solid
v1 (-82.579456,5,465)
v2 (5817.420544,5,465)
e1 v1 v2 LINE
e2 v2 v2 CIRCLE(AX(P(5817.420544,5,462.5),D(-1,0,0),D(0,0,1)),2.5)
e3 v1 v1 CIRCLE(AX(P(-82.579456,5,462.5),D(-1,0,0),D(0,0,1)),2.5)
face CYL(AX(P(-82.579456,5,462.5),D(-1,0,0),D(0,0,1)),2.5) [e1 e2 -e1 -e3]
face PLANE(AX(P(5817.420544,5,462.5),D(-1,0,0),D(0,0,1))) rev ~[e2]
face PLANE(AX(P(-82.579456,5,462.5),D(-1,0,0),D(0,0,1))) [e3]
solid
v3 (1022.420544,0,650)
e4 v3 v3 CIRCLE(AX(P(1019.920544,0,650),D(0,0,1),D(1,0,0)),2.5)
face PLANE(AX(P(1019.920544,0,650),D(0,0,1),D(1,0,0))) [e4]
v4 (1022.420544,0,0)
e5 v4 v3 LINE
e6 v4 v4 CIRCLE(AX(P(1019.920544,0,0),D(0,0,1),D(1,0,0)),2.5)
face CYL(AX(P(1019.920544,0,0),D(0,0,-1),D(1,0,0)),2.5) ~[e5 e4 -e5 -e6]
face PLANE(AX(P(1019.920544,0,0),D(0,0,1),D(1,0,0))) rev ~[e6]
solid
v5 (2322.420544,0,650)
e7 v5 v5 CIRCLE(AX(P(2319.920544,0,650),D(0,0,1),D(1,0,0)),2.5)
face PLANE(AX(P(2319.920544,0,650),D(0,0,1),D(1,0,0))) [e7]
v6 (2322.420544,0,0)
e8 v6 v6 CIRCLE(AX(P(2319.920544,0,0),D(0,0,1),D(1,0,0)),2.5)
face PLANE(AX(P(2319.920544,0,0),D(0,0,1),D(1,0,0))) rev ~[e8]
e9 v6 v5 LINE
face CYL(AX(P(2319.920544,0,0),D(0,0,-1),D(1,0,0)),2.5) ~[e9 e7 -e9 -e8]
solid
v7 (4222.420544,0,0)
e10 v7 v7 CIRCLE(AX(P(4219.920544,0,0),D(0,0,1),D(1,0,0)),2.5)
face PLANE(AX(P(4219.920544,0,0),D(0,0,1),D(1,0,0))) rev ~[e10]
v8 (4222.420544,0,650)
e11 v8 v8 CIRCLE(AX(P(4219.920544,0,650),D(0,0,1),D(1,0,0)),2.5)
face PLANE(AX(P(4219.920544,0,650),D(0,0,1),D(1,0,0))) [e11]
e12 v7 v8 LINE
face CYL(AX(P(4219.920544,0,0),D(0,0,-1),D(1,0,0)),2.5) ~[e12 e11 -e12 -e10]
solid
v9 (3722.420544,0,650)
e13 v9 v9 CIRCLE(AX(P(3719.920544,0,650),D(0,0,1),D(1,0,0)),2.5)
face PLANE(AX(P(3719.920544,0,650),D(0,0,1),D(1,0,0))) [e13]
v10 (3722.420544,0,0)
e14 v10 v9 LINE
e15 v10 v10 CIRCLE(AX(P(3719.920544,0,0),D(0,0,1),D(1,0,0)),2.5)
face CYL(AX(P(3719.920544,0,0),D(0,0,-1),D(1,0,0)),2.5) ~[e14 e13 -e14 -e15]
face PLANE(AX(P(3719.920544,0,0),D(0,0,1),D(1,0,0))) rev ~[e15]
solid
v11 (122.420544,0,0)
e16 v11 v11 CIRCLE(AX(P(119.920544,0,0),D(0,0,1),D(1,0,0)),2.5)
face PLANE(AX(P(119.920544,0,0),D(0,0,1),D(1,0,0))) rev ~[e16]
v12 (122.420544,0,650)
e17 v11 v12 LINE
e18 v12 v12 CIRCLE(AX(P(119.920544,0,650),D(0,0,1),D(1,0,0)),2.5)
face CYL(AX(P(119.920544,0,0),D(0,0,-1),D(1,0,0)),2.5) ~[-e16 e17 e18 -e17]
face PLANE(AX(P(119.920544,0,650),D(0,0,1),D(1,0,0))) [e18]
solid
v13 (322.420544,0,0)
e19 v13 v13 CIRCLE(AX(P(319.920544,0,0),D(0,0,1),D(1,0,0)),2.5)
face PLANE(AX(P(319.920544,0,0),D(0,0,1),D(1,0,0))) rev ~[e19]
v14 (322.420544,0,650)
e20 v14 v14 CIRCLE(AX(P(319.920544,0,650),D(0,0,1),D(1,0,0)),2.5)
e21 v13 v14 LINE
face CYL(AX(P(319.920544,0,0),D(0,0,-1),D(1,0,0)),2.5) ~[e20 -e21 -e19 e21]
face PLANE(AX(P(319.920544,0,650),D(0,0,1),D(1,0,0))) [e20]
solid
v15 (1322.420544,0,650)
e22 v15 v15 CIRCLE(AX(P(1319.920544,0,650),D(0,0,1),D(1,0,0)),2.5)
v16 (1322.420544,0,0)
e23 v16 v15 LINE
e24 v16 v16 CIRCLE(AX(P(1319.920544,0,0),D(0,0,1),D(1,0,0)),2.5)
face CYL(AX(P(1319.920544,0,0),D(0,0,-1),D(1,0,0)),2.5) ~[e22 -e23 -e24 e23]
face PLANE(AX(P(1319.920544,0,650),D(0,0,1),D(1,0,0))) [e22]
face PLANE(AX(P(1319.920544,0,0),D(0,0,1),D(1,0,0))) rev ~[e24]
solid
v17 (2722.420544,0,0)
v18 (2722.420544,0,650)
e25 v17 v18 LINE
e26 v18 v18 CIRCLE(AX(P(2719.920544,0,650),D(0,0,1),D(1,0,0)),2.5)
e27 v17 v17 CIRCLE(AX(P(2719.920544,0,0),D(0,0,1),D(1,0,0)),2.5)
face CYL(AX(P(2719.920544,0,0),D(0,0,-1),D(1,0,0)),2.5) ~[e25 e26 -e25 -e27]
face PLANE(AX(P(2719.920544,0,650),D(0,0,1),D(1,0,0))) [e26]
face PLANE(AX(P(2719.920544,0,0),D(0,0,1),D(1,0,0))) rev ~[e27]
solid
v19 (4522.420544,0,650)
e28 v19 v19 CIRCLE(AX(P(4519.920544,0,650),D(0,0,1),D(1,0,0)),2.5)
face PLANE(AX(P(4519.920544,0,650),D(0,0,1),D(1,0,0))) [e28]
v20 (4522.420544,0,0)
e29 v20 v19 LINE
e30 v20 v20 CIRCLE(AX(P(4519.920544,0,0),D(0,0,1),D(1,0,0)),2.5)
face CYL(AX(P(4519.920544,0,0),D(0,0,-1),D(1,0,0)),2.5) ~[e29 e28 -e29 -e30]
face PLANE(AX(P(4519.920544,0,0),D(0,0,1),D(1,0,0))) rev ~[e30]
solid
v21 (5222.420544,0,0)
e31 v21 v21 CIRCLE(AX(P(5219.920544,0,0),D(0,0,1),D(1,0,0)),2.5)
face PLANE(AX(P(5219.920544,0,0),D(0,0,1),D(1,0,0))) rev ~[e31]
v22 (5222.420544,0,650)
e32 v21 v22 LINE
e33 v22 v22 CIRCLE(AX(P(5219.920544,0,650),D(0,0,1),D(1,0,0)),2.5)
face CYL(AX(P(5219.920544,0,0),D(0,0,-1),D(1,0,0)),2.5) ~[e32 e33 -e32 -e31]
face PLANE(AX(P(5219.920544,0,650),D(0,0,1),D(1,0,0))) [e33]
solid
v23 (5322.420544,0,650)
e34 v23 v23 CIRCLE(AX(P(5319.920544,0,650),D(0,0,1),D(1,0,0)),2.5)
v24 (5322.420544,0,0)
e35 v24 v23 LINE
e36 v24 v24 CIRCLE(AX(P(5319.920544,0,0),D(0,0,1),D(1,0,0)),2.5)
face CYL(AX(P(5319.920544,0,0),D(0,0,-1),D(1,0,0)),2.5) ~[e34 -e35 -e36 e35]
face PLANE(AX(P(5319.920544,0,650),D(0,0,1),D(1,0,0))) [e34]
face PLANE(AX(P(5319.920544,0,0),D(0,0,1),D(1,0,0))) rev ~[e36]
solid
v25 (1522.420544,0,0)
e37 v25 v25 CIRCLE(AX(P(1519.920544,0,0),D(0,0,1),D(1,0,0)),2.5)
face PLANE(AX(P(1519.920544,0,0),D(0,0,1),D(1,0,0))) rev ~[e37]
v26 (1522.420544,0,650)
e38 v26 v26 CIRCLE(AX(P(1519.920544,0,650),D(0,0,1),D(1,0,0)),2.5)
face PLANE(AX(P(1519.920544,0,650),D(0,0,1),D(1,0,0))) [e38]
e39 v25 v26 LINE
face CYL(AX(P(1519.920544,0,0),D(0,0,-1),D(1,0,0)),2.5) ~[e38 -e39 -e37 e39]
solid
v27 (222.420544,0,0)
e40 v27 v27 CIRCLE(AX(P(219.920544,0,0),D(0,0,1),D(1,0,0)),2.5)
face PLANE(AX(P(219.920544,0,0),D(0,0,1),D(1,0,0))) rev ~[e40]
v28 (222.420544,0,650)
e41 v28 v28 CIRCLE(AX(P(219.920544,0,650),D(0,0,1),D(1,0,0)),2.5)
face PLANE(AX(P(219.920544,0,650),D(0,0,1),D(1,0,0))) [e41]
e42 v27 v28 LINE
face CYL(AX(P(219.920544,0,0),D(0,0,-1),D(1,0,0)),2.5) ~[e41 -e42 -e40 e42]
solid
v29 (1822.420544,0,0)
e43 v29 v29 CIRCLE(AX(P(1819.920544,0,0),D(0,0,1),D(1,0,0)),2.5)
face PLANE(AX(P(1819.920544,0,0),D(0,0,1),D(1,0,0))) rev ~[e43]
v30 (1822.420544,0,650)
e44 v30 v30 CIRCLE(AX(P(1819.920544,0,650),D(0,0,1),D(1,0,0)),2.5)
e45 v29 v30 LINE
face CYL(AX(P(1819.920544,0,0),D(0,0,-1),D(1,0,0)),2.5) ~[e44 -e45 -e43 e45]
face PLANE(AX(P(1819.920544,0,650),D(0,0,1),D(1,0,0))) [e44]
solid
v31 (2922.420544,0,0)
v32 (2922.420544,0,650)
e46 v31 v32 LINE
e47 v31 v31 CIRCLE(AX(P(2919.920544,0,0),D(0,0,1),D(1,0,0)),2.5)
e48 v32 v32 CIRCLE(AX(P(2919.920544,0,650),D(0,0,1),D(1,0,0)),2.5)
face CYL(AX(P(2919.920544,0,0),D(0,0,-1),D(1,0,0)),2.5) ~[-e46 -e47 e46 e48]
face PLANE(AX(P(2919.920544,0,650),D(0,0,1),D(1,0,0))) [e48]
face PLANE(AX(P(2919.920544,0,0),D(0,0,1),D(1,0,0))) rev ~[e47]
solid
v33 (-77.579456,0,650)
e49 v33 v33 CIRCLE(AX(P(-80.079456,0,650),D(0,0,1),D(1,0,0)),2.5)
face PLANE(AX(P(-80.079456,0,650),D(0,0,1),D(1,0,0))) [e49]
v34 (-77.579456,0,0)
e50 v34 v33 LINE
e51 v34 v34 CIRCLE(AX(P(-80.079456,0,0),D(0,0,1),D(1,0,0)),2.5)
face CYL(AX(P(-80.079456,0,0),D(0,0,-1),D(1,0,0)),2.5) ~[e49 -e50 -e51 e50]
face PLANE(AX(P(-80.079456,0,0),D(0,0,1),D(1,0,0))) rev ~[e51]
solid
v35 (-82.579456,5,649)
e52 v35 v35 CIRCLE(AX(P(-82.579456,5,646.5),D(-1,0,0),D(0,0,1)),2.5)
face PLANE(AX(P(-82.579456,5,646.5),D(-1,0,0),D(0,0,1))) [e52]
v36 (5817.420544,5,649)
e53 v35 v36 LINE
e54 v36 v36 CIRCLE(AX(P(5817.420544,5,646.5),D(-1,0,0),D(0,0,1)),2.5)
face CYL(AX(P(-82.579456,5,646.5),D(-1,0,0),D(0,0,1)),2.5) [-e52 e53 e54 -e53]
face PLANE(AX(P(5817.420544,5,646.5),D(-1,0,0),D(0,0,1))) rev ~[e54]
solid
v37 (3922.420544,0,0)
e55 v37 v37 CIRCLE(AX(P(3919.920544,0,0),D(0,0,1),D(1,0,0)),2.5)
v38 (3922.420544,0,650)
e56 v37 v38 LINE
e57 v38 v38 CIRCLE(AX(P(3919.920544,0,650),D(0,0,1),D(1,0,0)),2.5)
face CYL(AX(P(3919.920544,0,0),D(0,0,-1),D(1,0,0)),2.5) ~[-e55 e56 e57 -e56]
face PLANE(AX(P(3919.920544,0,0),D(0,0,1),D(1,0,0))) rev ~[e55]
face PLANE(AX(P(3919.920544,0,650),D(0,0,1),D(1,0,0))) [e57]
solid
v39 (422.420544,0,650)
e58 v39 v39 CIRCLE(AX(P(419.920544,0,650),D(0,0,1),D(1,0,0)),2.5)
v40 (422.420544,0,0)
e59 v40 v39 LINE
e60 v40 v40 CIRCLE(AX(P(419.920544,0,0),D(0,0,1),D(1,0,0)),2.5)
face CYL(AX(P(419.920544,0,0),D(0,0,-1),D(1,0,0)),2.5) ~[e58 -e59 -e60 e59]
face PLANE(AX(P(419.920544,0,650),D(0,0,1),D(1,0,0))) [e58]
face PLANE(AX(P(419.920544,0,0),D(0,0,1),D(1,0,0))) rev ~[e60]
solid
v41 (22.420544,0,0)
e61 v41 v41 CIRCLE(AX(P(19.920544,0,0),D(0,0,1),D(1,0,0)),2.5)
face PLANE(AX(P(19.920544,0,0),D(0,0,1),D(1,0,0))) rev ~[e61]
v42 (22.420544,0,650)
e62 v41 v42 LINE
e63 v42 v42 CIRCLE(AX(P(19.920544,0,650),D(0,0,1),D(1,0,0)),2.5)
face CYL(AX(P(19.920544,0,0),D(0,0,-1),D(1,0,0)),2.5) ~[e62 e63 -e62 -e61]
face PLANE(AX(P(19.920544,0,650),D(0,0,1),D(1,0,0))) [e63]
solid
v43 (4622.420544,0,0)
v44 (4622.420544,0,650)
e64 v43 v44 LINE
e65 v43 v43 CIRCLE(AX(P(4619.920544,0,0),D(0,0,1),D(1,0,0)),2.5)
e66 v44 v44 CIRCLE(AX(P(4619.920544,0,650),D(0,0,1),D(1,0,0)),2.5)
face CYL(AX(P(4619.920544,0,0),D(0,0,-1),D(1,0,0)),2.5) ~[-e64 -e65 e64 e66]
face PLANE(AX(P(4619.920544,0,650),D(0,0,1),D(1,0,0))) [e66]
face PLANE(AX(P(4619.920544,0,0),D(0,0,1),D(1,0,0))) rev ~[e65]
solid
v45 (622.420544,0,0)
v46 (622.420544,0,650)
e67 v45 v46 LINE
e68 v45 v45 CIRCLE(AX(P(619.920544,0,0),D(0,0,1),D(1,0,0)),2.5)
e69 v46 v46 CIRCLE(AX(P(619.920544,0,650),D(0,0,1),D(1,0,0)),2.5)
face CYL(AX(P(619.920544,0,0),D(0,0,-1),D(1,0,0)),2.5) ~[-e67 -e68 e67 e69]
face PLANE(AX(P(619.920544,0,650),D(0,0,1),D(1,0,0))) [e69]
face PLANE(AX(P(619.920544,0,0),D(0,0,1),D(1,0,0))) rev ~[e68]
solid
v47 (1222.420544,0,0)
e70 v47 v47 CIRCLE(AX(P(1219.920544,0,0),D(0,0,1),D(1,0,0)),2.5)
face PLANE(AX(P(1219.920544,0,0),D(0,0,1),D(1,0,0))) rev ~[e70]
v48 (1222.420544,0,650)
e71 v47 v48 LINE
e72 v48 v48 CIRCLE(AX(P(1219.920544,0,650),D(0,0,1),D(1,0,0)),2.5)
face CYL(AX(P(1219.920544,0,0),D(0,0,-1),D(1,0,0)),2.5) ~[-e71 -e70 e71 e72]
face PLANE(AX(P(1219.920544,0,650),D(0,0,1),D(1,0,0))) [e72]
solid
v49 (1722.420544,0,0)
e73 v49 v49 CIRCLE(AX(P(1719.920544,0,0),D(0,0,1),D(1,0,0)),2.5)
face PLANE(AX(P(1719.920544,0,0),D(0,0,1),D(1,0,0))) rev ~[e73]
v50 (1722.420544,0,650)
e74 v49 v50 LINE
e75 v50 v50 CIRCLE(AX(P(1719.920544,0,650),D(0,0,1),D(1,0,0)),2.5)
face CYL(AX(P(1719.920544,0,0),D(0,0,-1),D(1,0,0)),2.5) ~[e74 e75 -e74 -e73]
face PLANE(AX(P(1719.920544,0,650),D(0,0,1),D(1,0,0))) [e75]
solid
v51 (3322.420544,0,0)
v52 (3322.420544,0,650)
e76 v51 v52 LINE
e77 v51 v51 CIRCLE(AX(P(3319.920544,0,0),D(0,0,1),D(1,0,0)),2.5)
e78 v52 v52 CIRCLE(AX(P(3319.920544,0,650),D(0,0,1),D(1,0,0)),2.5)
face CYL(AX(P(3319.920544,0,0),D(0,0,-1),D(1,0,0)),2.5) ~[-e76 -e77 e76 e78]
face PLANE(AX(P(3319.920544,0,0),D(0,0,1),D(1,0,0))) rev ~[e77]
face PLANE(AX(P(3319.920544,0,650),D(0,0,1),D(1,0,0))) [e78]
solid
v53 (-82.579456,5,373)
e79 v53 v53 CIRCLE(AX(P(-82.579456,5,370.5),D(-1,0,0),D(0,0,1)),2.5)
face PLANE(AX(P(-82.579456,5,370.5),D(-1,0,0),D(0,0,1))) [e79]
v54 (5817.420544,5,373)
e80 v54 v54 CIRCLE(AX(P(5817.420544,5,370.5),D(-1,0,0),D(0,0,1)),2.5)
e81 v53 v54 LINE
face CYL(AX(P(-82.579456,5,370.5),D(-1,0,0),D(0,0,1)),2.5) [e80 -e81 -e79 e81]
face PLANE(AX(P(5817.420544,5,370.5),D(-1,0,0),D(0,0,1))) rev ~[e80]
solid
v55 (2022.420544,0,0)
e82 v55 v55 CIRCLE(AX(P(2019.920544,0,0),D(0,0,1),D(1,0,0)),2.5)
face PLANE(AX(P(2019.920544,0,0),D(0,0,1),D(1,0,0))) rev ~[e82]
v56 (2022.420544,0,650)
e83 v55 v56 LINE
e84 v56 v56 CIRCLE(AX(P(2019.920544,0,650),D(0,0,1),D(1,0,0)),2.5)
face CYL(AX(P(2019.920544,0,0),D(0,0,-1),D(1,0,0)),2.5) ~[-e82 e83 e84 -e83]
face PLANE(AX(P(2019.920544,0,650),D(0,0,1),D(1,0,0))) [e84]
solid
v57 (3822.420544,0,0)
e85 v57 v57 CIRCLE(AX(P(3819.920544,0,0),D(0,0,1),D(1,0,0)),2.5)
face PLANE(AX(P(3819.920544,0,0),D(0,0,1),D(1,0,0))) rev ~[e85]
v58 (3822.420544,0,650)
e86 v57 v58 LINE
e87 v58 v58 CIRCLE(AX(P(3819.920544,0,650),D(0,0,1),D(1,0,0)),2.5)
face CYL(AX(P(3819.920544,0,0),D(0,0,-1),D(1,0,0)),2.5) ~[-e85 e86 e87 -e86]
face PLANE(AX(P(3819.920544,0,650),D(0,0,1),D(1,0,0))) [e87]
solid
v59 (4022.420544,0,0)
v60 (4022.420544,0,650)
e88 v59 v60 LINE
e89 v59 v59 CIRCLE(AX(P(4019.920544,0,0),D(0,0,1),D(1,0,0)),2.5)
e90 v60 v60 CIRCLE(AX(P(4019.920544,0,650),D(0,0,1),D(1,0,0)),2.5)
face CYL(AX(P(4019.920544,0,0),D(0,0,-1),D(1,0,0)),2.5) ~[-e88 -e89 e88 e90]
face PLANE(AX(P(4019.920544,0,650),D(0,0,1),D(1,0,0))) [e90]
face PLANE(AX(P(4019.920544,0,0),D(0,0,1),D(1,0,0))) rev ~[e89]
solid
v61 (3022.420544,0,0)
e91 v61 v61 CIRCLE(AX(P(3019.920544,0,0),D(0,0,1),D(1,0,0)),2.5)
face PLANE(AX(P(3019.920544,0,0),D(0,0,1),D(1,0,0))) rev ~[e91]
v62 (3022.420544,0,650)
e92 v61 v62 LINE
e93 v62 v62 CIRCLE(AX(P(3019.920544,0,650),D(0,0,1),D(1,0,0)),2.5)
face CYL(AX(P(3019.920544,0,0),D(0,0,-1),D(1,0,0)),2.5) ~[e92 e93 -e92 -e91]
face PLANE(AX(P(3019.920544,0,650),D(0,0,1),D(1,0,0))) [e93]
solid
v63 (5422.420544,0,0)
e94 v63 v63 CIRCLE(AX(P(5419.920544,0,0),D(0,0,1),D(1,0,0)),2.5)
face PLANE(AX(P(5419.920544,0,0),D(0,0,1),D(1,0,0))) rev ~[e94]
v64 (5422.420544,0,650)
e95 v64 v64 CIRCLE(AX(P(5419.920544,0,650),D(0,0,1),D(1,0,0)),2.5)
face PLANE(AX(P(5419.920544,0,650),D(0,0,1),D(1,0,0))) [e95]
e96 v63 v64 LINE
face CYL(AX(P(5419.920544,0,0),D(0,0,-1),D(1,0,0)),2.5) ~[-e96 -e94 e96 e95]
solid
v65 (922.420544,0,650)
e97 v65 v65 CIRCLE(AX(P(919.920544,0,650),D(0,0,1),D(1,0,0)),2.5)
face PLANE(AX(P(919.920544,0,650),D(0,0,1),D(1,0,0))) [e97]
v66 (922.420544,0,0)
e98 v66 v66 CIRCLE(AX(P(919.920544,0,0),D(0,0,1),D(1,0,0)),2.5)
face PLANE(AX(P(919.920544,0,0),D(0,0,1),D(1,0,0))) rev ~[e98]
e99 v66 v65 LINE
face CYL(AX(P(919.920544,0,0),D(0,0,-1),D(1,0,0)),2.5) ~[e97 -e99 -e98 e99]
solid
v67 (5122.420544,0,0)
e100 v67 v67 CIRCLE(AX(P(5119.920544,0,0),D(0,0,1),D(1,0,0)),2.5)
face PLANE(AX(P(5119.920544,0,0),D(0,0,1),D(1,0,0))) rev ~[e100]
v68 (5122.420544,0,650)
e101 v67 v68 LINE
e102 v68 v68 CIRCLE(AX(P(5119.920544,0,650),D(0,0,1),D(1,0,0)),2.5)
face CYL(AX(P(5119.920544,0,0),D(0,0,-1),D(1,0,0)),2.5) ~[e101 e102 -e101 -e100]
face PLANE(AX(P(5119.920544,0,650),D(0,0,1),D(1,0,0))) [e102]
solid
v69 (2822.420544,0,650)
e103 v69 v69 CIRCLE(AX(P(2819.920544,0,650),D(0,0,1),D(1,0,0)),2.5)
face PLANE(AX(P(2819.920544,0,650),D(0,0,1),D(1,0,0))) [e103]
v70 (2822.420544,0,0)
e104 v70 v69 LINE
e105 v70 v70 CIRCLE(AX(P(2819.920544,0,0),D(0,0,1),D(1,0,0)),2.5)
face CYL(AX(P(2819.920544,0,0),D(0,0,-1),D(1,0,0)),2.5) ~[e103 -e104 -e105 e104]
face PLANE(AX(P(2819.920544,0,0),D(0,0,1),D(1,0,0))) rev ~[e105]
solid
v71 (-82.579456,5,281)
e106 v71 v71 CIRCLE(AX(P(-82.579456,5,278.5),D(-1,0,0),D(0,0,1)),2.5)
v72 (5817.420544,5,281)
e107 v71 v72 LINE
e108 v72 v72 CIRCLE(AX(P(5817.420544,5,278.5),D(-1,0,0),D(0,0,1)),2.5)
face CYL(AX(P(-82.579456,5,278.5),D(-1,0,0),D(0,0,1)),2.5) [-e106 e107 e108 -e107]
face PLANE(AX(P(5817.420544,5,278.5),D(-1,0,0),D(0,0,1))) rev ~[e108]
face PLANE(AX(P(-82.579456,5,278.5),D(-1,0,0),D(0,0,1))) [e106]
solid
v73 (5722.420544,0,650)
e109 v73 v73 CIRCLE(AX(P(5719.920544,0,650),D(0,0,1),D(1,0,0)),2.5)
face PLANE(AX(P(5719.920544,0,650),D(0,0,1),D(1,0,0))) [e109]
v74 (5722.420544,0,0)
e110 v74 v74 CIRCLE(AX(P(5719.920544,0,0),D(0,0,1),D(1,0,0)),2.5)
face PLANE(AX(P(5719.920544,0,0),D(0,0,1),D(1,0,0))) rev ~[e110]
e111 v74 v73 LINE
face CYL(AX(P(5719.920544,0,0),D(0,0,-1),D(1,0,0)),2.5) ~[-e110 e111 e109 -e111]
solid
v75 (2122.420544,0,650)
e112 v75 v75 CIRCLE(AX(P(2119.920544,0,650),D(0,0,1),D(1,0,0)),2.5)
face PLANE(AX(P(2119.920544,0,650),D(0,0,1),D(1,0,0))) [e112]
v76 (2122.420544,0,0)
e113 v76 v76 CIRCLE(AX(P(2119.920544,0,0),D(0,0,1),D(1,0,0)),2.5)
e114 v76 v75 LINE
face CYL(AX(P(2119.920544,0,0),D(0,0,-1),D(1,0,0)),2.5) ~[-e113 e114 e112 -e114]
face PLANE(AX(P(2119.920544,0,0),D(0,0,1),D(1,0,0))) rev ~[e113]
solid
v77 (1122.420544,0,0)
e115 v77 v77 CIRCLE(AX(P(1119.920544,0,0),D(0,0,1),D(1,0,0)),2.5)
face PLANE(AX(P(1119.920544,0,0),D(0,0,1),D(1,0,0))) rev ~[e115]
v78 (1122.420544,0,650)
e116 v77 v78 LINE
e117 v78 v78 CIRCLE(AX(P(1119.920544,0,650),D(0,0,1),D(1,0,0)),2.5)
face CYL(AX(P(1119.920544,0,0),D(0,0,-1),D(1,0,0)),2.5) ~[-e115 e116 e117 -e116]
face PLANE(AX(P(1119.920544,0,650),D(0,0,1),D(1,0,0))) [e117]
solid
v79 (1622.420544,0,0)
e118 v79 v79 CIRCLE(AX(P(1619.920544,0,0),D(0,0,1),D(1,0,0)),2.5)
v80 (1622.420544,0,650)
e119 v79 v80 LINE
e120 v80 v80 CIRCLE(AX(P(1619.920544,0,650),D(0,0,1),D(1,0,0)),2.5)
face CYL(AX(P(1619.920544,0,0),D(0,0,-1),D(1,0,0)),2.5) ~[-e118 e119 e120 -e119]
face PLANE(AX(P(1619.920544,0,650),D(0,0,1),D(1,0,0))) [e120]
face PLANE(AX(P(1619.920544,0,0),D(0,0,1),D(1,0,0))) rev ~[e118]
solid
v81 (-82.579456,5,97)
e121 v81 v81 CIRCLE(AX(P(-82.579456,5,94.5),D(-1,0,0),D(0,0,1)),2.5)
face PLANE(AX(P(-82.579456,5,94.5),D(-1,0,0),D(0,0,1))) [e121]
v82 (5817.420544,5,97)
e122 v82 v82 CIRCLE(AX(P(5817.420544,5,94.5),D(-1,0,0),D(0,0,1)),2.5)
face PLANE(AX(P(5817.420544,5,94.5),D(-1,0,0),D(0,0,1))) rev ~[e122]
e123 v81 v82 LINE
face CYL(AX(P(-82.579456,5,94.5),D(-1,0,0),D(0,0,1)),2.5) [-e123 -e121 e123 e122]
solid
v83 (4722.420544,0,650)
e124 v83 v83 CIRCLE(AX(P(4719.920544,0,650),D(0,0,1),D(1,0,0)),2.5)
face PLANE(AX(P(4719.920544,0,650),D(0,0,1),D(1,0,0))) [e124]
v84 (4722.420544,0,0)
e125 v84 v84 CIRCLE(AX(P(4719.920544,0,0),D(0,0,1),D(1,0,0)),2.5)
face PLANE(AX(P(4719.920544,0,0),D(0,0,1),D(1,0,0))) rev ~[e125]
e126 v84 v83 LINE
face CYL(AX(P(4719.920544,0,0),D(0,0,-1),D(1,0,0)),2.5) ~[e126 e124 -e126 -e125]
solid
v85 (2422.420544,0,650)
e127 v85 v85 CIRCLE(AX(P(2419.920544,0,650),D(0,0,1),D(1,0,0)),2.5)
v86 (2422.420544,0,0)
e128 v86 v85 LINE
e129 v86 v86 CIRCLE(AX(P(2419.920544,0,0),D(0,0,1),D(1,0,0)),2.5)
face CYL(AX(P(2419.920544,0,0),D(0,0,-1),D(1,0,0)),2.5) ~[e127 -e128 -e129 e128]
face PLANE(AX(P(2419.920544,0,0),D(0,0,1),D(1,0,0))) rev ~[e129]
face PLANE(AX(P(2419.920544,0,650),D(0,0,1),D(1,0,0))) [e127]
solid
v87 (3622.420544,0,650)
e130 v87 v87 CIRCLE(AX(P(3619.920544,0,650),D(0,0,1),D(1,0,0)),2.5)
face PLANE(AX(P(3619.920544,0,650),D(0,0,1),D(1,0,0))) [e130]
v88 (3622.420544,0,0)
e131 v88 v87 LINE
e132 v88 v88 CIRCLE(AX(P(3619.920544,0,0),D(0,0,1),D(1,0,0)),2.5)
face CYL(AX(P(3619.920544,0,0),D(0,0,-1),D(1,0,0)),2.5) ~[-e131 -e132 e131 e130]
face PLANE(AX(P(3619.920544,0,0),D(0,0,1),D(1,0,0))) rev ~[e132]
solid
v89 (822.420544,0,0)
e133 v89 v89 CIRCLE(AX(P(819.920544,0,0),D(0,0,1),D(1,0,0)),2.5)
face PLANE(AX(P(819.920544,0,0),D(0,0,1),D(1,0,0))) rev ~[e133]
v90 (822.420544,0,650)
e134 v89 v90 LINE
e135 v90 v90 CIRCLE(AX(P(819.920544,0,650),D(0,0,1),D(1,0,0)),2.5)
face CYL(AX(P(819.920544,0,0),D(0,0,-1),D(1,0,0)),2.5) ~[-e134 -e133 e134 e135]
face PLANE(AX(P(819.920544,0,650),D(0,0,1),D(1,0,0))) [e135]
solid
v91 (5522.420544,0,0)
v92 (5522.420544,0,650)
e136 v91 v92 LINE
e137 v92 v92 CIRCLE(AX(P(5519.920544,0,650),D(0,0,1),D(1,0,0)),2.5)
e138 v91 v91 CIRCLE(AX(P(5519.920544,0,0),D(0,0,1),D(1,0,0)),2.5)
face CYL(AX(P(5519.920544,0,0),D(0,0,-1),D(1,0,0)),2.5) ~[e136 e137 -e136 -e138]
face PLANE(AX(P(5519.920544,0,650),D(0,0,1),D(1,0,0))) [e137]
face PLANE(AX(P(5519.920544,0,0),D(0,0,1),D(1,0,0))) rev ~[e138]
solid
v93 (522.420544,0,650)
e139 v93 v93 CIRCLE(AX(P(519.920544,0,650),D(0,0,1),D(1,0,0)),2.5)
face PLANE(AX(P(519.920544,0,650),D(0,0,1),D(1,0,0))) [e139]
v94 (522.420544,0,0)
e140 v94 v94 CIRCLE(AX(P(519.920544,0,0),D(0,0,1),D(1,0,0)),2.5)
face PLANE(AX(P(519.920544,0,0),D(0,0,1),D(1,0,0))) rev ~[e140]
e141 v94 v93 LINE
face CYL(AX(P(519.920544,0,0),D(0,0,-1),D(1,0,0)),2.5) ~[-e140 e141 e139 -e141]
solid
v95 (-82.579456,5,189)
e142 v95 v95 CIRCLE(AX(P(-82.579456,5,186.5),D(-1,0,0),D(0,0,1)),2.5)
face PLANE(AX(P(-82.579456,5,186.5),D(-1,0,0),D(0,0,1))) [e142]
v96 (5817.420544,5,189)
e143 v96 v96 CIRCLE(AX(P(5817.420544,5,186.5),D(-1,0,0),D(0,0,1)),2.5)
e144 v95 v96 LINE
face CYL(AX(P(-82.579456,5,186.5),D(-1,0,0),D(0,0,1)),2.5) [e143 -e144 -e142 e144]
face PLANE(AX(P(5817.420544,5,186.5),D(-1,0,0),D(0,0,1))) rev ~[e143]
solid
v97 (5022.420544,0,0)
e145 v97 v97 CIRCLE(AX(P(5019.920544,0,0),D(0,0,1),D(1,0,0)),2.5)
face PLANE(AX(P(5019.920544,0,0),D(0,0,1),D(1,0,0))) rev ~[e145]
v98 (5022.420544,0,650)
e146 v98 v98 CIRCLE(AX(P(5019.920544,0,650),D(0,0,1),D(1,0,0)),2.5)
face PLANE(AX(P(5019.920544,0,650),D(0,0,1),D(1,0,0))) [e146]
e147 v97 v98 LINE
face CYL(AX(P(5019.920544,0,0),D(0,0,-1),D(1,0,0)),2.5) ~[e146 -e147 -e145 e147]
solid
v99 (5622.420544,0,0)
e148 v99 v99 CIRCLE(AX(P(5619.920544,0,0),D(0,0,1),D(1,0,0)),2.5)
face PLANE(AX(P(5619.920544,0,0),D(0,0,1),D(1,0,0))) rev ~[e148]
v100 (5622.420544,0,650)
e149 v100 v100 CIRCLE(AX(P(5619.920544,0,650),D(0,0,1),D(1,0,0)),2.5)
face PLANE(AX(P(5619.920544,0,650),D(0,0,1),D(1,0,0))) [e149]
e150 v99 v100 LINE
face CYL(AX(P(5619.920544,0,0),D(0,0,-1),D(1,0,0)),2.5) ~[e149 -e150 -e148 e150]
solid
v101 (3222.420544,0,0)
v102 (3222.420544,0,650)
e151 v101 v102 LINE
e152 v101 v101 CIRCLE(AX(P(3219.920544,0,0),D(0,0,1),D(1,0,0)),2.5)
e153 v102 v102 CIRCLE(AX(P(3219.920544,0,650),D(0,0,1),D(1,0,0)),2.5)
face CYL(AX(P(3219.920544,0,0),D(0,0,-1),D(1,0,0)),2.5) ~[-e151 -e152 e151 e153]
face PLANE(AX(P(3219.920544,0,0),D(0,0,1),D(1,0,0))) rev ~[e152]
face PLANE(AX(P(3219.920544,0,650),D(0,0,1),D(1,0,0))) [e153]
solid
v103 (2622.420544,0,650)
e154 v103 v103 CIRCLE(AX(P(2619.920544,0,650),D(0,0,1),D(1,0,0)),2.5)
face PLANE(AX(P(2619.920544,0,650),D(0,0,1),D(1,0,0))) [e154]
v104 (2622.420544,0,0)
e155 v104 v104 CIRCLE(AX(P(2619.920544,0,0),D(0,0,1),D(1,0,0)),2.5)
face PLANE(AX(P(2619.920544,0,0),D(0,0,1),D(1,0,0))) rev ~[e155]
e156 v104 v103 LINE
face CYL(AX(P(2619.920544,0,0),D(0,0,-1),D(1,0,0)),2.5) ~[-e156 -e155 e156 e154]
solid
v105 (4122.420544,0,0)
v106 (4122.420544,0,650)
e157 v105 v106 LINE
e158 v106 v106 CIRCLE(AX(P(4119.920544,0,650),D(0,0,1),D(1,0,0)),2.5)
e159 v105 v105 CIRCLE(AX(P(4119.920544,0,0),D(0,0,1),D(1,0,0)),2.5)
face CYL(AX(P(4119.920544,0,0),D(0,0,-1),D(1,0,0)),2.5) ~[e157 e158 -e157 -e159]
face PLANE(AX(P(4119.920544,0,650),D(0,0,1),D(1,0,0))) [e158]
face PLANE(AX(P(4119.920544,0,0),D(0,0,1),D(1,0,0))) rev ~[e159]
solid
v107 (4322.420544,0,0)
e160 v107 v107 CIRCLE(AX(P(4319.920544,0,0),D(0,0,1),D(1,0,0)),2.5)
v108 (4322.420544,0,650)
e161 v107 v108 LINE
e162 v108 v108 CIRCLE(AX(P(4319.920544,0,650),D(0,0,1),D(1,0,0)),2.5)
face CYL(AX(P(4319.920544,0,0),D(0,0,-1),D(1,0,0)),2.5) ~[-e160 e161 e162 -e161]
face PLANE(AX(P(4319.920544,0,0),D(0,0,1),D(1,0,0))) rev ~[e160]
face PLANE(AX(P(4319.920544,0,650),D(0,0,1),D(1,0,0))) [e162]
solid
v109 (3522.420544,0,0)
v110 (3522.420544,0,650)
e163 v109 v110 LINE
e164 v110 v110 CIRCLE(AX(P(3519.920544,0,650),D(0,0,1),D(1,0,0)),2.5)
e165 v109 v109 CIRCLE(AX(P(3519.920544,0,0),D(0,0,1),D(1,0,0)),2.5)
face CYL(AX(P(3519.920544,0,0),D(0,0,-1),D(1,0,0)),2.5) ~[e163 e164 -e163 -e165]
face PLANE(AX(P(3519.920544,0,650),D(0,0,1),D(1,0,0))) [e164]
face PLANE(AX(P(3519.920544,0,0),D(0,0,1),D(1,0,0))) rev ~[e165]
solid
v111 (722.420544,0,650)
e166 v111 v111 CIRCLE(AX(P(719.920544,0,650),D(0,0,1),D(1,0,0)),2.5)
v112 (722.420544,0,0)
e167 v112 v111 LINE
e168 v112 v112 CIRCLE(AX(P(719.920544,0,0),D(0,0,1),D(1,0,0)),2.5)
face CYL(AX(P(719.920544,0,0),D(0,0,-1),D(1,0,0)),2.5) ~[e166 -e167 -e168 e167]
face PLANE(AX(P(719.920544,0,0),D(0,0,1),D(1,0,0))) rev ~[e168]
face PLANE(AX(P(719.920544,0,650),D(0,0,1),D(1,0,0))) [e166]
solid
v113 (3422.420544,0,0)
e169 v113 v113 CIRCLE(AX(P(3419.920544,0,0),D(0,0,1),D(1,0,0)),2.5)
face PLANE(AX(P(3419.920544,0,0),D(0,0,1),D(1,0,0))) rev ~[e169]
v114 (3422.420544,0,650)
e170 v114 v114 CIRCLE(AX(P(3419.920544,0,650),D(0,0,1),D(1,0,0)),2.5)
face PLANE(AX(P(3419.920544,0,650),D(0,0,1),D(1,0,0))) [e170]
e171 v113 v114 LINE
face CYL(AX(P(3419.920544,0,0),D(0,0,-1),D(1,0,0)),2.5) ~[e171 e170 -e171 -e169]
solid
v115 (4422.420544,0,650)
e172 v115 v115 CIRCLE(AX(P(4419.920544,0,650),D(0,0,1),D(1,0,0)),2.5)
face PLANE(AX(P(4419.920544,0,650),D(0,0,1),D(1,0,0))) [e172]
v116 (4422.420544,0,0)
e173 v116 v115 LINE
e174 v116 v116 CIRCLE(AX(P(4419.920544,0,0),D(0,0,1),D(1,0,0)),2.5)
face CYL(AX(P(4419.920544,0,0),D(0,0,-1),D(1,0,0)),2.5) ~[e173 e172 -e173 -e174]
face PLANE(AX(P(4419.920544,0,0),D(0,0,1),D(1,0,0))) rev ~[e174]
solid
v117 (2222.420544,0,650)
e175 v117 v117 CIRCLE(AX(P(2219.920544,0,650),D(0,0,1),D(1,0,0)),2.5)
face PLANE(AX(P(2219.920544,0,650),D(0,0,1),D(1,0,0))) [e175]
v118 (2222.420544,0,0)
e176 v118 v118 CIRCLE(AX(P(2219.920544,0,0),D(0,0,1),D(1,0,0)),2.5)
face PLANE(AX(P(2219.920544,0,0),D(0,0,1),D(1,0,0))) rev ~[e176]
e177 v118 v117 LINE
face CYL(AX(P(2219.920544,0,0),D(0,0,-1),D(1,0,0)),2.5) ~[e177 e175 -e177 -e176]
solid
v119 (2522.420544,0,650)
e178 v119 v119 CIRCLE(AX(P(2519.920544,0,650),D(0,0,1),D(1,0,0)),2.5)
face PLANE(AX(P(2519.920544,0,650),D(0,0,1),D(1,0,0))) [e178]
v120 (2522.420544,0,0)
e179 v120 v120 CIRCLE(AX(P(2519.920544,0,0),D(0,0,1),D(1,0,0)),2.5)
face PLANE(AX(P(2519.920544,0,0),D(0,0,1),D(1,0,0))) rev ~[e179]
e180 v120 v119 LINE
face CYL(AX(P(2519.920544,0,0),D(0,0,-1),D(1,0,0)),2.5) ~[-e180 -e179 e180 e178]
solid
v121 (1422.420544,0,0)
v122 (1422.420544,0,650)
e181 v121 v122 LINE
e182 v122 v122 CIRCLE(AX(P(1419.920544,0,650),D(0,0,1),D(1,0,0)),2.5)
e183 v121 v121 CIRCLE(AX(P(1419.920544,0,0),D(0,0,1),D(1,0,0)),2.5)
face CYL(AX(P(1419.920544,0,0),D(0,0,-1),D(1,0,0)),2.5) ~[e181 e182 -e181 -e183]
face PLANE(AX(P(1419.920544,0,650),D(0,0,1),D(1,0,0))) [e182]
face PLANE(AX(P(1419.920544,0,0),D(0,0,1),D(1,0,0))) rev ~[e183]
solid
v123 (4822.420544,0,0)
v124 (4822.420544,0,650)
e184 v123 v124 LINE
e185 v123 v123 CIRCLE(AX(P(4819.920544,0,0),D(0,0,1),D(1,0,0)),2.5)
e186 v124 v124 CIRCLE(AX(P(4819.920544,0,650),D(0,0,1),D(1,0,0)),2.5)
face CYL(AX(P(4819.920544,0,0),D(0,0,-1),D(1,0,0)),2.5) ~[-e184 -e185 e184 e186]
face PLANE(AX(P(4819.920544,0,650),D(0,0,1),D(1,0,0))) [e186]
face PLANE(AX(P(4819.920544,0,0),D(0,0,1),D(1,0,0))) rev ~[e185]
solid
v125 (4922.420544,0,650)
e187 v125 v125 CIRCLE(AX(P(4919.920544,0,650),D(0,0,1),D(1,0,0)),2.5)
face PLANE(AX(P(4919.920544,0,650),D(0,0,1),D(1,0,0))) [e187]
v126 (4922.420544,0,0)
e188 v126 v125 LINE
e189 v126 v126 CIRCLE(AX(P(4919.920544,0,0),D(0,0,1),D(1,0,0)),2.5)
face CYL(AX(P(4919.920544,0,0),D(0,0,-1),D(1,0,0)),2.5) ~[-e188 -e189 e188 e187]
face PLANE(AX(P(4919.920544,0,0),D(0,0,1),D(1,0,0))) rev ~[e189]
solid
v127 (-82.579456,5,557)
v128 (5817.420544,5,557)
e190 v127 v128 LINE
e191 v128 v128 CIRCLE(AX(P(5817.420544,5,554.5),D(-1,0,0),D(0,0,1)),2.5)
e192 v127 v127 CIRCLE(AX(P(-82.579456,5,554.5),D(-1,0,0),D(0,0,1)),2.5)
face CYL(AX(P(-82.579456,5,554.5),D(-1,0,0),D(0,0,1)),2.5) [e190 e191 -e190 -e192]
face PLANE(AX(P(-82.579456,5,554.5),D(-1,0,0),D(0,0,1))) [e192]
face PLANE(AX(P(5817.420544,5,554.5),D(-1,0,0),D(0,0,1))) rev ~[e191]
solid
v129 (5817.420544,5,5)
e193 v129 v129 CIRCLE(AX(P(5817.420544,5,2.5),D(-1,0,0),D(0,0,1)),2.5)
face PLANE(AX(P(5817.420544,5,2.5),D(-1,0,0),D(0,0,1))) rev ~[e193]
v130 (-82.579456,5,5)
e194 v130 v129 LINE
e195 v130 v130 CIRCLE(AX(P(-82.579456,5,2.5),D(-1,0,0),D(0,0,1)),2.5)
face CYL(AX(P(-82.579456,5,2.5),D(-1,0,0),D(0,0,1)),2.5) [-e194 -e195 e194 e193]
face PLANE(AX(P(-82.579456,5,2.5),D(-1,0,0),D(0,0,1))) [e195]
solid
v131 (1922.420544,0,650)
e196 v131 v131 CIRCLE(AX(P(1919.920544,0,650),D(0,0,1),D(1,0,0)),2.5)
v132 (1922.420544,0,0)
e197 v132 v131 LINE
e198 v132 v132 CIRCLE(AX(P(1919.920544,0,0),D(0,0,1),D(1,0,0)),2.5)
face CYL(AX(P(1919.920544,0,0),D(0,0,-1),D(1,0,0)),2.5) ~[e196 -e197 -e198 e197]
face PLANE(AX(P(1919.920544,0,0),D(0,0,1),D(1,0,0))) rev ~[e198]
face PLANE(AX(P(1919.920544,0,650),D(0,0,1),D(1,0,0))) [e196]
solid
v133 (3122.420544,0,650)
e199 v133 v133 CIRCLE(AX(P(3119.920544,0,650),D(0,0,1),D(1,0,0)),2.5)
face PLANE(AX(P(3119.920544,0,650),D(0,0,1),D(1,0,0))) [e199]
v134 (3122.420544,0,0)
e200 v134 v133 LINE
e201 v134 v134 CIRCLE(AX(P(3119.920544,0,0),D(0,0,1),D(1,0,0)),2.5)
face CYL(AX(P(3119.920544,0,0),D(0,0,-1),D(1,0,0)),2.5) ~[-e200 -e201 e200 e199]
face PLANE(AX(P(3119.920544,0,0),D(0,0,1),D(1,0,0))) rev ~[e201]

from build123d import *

# Parameters (mm, degrees)
SKETCH1_R              = 2.5
BOSS_EXTRUDE1_DEPTH    = 650
BOSS_EXTRUDE1_2_DEPTH  = 650
BOSS_EXTRUDE1_3_DEPTH  = 650
BOSS_EXTRUDE1_4_DEPTH  = 650
BOSS_EXTRUDE1_5_DEPTH  = 650
BOSS_EXTRUDE1_6_DEPTH  = 650
BOSS_EXTRUDE1_7_DEPTH  = 650
BOSS_EXTRUDE1_8_DEPTH  = 650
BOSS_EXTRUDE1_9_DEPTH  = 650
BOSS_EXTRUDE1_10_DEPTH = 650
BOSS_EXTRUDE1_11_DEPTH = 650
BOSS_EXTRUDE1_12_DEPTH = 650
BOSS_EXTRUDE1_13_DEPTH = 650
BOSS_EXTRUDE1_14_DEPTH = 650
BOSS_EXTRUDE1_15_DEPTH = 650
BOSS_EXTRUDE1_16_DEPTH = 650
BOSS_EXTRUDE1_17_DEPTH = 650
BOSS_EXTRUDE1_18_DEPTH = 650
BOSS_EXTRUDE1_19_DEPTH = 650
BOSS_EXTRUDE1_20_DEPTH = 650
BOSS_EXTRUDE1_21_DEPTH = 650
BOSS_EXTRUDE1_22_DEPTH = 650
BOSS_EXTRUDE1_23_DEPTH = 650
BOSS_EXTRUDE1_24_DEPTH = 650
BOSS_EXTRUDE1_25_DEPTH = 650
BOSS_EXTRUDE1_26_DEPTH = 650
BOSS_EXTRUDE1_27_DEPTH = 650
BOSS_EXTRUDE1_28_DEPTH = 650
BOSS_EXTRUDE1_29_DEPTH = 650
BOSS_EXTRUDE1_30_DEPTH = 650
BOSS_EXTRUDE1_31_DEPTH = 650
BOSS_EXTRUDE1_32_DEPTH = 650
BOSS_EXTRUDE1_33_DEPTH = 650
BOSS_EXTRUDE1_34_DEPTH = 650
BOSS_EXTRUDE1_35_DEPTH = 650
BOSS_EXTRUDE1_36_DEPTH = 650
BOSS_EXTRUDE1_37_DEPTH = 650
BOSS_EXTRUDE1_38_DEPTH = 650
BOSS_EXTRUDE1_39_DEPTH = 650
BOSS_EXTRUDE1_40_DEPTH = 650
BOSS_EXTRUDE1_41_DEPTH = 650
BOSS_EXTRUDE1_42_DEPTH = 650
BOSS_EXTRUDE1_43_DEPTH = 650
BOSS_EXTRUDE1_44_DEPTH = 650
BOSS_EXTRUDE1_45_DEPTH = 650
BOSS_EXTRUDE1_46_DEPTH = 650
BOSS_EXTRUDE1_47_DEPTH = 650
BOSS_EXTRUDE1_48_DEPTH = 650
BOSS_EXTRUDE1_49_DEPTH = 650
BOSS_EXTRUDE1_50_DEPTH = 650
BOSS_EXTRUDE1_51_DEPTH = 650
BOSS_EXTRUDE1_52_DEPTH = 650
BOSS_EXTRUDE1_53_DEPTH = 650
BOSS_EXTRUDE1_54_DEPTH = 650
BOSS_EXTRUDE1_55_DEPTH = 650
BOSS_EXTRUDE1_56_DEPTH = 650
BOSS_EXTRUDE1_57_DEPTH = 650
BOSS_EXTRUDE1_58_DEPTH = 650
BOSS_EXTRUDE1_59_DEPTH = 650
SKETCH2_R              = 2.5
BOSS_EXTRUDE2_DEPTH    = 5900
BOSS_EXTRUDE2_2_DEPTH  = 5900
BOSS_EXTRUDE2_3_DEPTH  = 5900
BOSS_EXTRUDE2_4_DEPTH  = 5900
BOSS_EXTRUDE2_5_DEPTH  = 5900
BOSS_EXTRUDE2_6_DEPTH  = 5900
BOSS_EXTRUDE2_7_DEPTH  = 5900
BOSS_EXTRUDE2_8_DEPTH  = 5900


with BuildPart() as part:
    # Sketch1 → Boss-Extrude1 (new body)
    with BuildSketch(Plane.XY):
        with Locations((-80.079456232, 0)):
            Circle(SKETCH1_R)
    extrude(amount=BOSS_EXTRUDE1_DEPTH)


with BuildPart() as body_2:
    # Sketch1 → Boss-Extrude1 2 (new body)
    with BuildSketch(Plane.XY):
        with Locations((19.920543768, 0)):
            Circle(SKETCH1_R)
    extrude(amount=BOSS_EXTRUDE1_2_DEPTH)


with BuildPart() as body_3:
    # Sketch1 → Boss-Extrude1 3 (new body)
    with BuildSketch(Plane.XY):
        with Locations((119.920543768, 0)):
            Circle(SKETCH1_R)
    extrude(amount=BOSS_EXTRUDE1_3_DEPTH)


with BuildPart() as body_4:
    # Sketch1 → Boss-Extrude1 4 (new body)
    with BuildSketch(Plane.XY):
        with Locations((219.920543768, 0)):
            Circle(SKETCH1_R)
    extrude(amount=BOSS_EXTRUDE1_4_DEPTH)


with BuildPart() as body_5:
    # Sketch1 → Boss-Extrude1 5 (new body)
    with BuildSketch(Plane.XY):
        with Locations((319.920543768, 0)):
            Circle(SKETCH1_R)
    extrude(amount=BOSS_EXTRUDE1_5_DEPTH)


with BuildPart() as body_6:
    # Sketch1 → Boss-Extrude1 6 (new body)
    with BuildSketch(Plane.XY):
        with Locations((419.920543768, 0)):
            Circle(SKETCH1_R)
    extrude(amount=BOSS_EXTRUDE1_6_DEPTH)


with BuildPart() as body_7:
    # Sketch1 → Boss-Extrude1 7 (new body)
    with BuildSketch(Plane.XY):
        with Locations((519.920543768, 0)):
            Circle(SKETCH1_R)
    extrude(amount=BOSS_EXTRUDE1_7_DEPTH)


with BuildPart() as body_8:
    # Sketch1 → Boss-Extrude1 8 (new body)
    with BuildSketch(Plane.XY):
        with Locations((619.920543768, 0)):
            Circle(SKETCH1_R)
    extrude(amount=BOSS_EXTRUDE1_8_DEPTH)


with BuildPart() as body_9:
    # Sketch1 → Boss-Extrude1 9 (new body)
    with BuildSketch(Plane.XY):
        with Locations((719.920543768, 0)):
            Circle(SKETCH1_R)
    extrude(amount=BOSS_EXTRUDE1_9_DEPTH)


with BuildPart() as body_10:
    # Sketch1 → Boss-Extrude1 10 (new body)
    with BuildSketch(Plane.XY):
        with Locations((819.920543768, 0)):
            Circle(SKETCH1_R)
    extrude(amount=BOSS_EXTRUDE1_10_DEPTH)


with BuildPart() as body_11:
    # Sketch1 → Boss-Extrude1 11 (new body)
    with BuildSketch(Plane.XY):
        with Locations((919.920543768, 0)):
            Circle(SKETCH1_R)
    extrude(amount=BOSS_EXTRUDE1_11_DEPTH)


with BuildPart() as body_12:
    # Sketch1 → Boss-Extrude1 12 (new body)
    with BuildSketch(Plane.XY):
        with Locations((1019.920543768, 0)):
            Circle(SKETCH1_R)
    extrude(amount=BOSS_EXTRUDE1_12_DEPTH)


with BuildPart() as body_13:
    # Sketch1 → Boss-Extrude1 13 (new body)
    with BuildSketch(Plane.XY):
        with Locations((1119.920543768, 0)):
            Circle(SKETCH1_R)
    extrude(amount=BOSS_EXTRUDE1_13_DEPTH)


with BuildPart() as body_14:
    # Sketch1 → Boss-Extrude1 14 (new body)
    with BuildSketch(Plane.XY):
        with Locations((1219.920543768, 0)):
            Circle(SKETCH1_R)
    extrude(amount=BOSS_EXTRUDE1_14_DEPTH)


with BuildPart() as body_15:
    # Sketch1 → Boss-Extrude1 15 (new body)
    with BuildSketch(Plane.XY):
        with Locations((1319.920543768, 0)):
            Circle(SKETCH1_R)
    extrude(amount=BOSS_EXTRUDE1_15_DEPTH)


with BuildPart() as body_16:
    # Sketch1 → Boss-Extrude1 16 (new body)
    with BuildSketch(Plane.XY):
        with Locations((1419.920543768, 0)):
            Circle(SKETCH1_R)
    extrude(amount=BOSS_EXTRUDE1_16_DEPTH)


with BuildPart() as body_17:
    # Sketch1 → Boss-Extrude1 17 (new body)
    with BuildSketch(Plane.XY):
        with Locations((1519.920543768, 0)):
            Circle(SKETCH1_R)
    extrude(amount=BOSS_EXTRUDE1_17_DEPTH)


with BuildPart() as body_18:
    # Sketch1 → Boss-Extrude1 18 (new body)
    with BuildSketch(Plane.XY):
        with Locations((1619.920543768, 0)):
            Circle(SKETCH1_R)
    extrude(amount=BOSS_EXTRUDE1_18_DEPTH)


with BuildPart() as body_19:
    # Sketch1 → Boss-Extrude1 19 (new body)
    with BuildSketch(Plane.XY):
        with Locations((1719.920543768, 0)):
            Circle(SKETCH1_R)
    extrude(amount=BOSS_EXTRUDE1_19_DEPTH)


with BuildPart() as body_20:
    # Sketch1 → Boss-Extrude1 20 (new body)
    with BuildSketch(Plane.XY):
        with Locations((1819.920543768, 0)):
            Circle(SKETCH1_R)
    extrude(amount=BOSS_EXTRUDE1_20_DEPTH)


with BuildPart() as body_21:
    # Sketch1 → Boss-Extrude1 21 (new body)
    with BuildSketch(Plane.XY):
        with Locations((1919.920543768, 0)):
            Circle(SKETCH1_R)
    extrude(amount=BOSS_EXTRUDE1_21_DEPTH)


with BuildPart() as body_22:
    # Sketch1 → Boss-Extrude1 22 (new body)
    with BuildSketch(Plane.XY):
        with Locations((2019.920543768, 0)):
            Circle(SKETCH1_R)
    extrude(amount=BOSS_EXTRUDE1_22_DEPTH)


with BuildPart() as body_23:
    # Sketch1 → Boss-Extrude1 23 (new body)
    with BuildSketch(Plane.XY):
        with Locations((2119.920543768, 0)):
            Circle(SKETCH1_R)
    extrude(amount=BOSS_EXTRUDE1_23_DEPTH)


with BuildPart() as body_24:
    # Sketch1 → Boss-Extrude1 24 (new body)
    with BuildSketch(Plane.XY):
        with Locations((2219.920543768, 0)):
            Circle(SKETCH1_R)
    extrude(amount=BOSS_EXTRUDE1_24_DEPTH)


with BuildPart() as body_25:
    # Sketch1 → Boss-Extrude1 25 (new body)
    with BuildSketch(Plane.XY):
        with Locations((2319.920543768, 0)):
            Circle(SKETCH1_R)
    extrude(amount=BOSS_EXTRUDE1_25_DEPTH)


with BuildPart() as body_26:
    # Sketch1 → Boss-Extrude1 26 (new body)
    with BuildSketch(Plane.XY):
        with Locations((2419.920543768, 0)):
            Circle(SKETCH1_R)
    extrude(amount=BOSS_EXTRUDE1_26_DEPTH)


with BuildPart() as body_27:
    # Sketch1 → Boss-Extrude1 27 (new body)
    with BuildSketch(Plane.XY):
        with Locations((2519.920543768, 0)):
            Circle(SKETCH1_R)
    extrude(amount=BOSS_EXTRUDE1_27_DEPTH)


with BuildPart() as body_28:
    # Sketch1 → Boss-Extrude1 28 (new body)
    with BuildSketch(Plane.XY):
        with Locations((2619.920543768, 0)):
            Circle(SKETCH1_R)
    extrude(amount=BOSS_EXTRUDE1_28_DEPTH)


with BuildPart() as body_29:
    # Sketch1 → Boss-Extrude1 29 (new body)
    with BuildSketch(Plane.XY):
        with Locations((2719.920543768, 0)):
            Circle(SKETCH1_R)
    extrude(amount=BOSS_EXTRUDE1_29_DEPTH)


with BuildPart() as body_30:
    # Sketch1 → Boss-Extrude1 30 (new body)
    with BuildSketch(Plane.XY):
        with Locations((2819.920543768, 0)):
            Circle(SKETCH1_R)
    extrude(amount=BOSS_EXTRUDE1_30_DEPTH)


with BuildPart() as body_31:
    # Sketch1 → Boss-Extrude1 31 (new body)
    with BuildSketch(Plane.XY):
        with Locations((2919.920543768, 0)):
            Circle(SKETCH1_R)
    extrude(amount=BOSS_EXTRUDE1_31_DEPTH)


with BuildPart() as body_32:
    # Sketch1 → Boss-Extrude1 32 (new body)
    with BuildSketch(Plane.XY):
        with Locations((3019.920543768, 0)):
            Circle(SKETCH1_R)
    extrude(amount=BOSS_EXTRUDE1_32_DEPTH)


with BuildPart() as body_33:
    # Sketch1 → Boss-Extrude1 33 (new body)
    with BuildSketch(Plane.XY):
        with Locations((3119.920543768, 0)):
            Circle(SKETCH1_R)
    extrude(amount=BOSS_EXTRUDE1_33_DEPTH)


with BuildPart() as body_34:
    # Sketch1 → Boss-Extrude1 34 (new body)
    with BuildSketch(Plane.XY):
        with Locations((3219.920543768, 0)):
            Circle(SKETCH1_R)
    extrude(amount=BOSS_EXTRUDE1_34_DEPTH)


with BuildPart() as body_35:
    # Sketch1 → Boss-Extrude1 35 (new body)
    with BuildSketch(Plane.XY):
        with Locations((3319.920543768, 0)):
            Circle(SKETCH1_R)
    extrude(amount=BOSS_EXTRUDE1_35_DEPTH)


with BuildPart() as body_36:
    # Sketch1 → Boss-Extrude1 36 (new body)
    with BuildSketch(Plane.XY):
        with Locations((3419.920543768, 0)):
            Circle(SKETCH1_R)
    extrude(amount=BOSS_EXTRUDE1_36_DEPTH)


with BuildPart() as body_37:
    # Sketch1 → Boss-Extrude1 37 (new body)
    with BuildSketch(Plane.XY):
        with Locations((3519.920543768, 0)):
            Circle(SKETCH1_R)
    extrude(amount=BOSS_EXTRUDE1_37_DEPTH)


with BuildPart() as body_38:
    # Sketch1 → Boss-Extrude1 38 (new body)
    with BuildSketch(Plane.XY):
        with Locations((3619.920543768, 0)):
            Circle(SKETCH1_R)
    extrude(amount=BOSS_EXTRUDE1_38_DEPTH)


with BuildPart() as body_39:
    # Sketch1 → Boss-Extrude1 39 (new body)
    with BuildSketch(Plane.XY):
        with Locations((3719.920543768, 0)):
            Circle(SKETCH1_R)
    extrude(amount=BOSS_EXTRUDE1_39_DEPTH)


with BuildPart() as body_40:
    # Sketch1 → Boss-Extrude1 40 (new body)
    with BuildSketch(Plane.XY):
        with Locations((3819.920543768, 0)):
            Circle(SKETCH1_R)
    extrude(amount=BOSS_EXTRUDE1_40_DEPTH)


with BuildPart() as body_41:
    # Sketch1 → Boss-Extrude1 41 (new body)
    with BuildSketch(Plane.XY):
        with Locations((3919.920543768, 0)):
            Circle(SKETCH1_R)
    extrude(amount=BOSS_EXTRUDE1_41_DEPTH)


with BuildPart() as body_42:
    # Sketch1 → Boss-Extrude1 42 (new body)
    with BuildSketch(Plane.XY):
        with Locations((4019.920543768, 0)):
            Circle(SKETCH1_R)
    extrude(amount=BOSS_EXTRUDE1_42_DEPTH)


with BuildPart() as body_43:
    # Sketch1 → Boss-Extrude1 43 (new body)
    with BuildSketch(Plane.XY):
        with Locations((4119.920543768, 0)):
            Circle(SKETCH1_R)
    extrude(amount=BOSS_EXTRUDE1_43_DEPTH)


with BuildPart() as body_44:
    # Sketch1 → Boss-Extrude1 44 (new body)
    with BuildSketch(Plane.XY):
        with Locations((4219.920543768, 0)):
            Circle(SKETCH1_R)
    extrude(amount=BOSS_EXTRUDE1_44_DEPTH)


with BuildPart() as body_45:
    # Sketch1 → Boss-Extrude1 45 (new body)
    with BuildSketch(Plane.XY):
        with Locations((4319.920543768, 0)):
            Circle(SKETCH1_R)
    extrude(amount=BOSS_EXTRUDE1_45_DEPTH)


with BuildPart() as body_46:
    # Sketch1 → Boss-Extrude1 46 (new body)
    with BuildSketch(Plane.XY):
        with Locations((4419.920543768, 0)):
            Circle(SKETCH1_R)
    extrude(amount=BOSS_EXTRUDE1_46_DEPTH)


with BuildPart() as body_47:
    # Sketch1 → Boss-Extrude1 47 (new body)
    with BuildSketch(Plane.XY):
        with Locations((4519.920543768, 0)):
            Circle(SKETCH1_R)
    extrude(amount=BOSS_EXTRUDE1_47_DEPTH)


with BuildPart() as body_48:
    # Sketch1 → Boss-Extrude1 48 (new body)
    with BuildSketch(Plane.XY):
        with Locations((4619.920543768, 0)):
            Circle(SKETCH1_R)
    extrude(amount=BOSS_EXTRUDE1_48_DEPTH)


with BuildPart() as body_49:
    # Sketch1 → Boss-Extrude1 49 (new body)
    with BuildSketch(Plane.XY):
        with Locations((4719.920543768, 0)):
            Circle(SKETCH1_R)
    extrude(amount=BOSS_EXTRUDE1_49_DEPTH)


with BuildPart() as body_50:
    # Sketch1 → Boss-Extrude1 50 (new body)
    with BuildSketch(Plane.XY):
        with Locations((4819.920543768, 0)):
            Circle(SKETCH1_R)
    extrude(amount=BOSS_EXTRUDE1_50_DEPTH)


with BuildPart() as body_51:
    # Sketch1 → Boss-Extrude1 51 (new body)
    with BuildSketch(Plane.XY):
        with Locations((4919.920543768, 0)):
            Circle(SKETCH1_R)
    extrude(amount=BOSS_EXTRUDE1_51_DEPTH)


with BuildPart() as body_52:
    # Sketch1 → Boss-Extrude1 52 (new body)
    with BuildSketch(Plane.XY):
        with Locations((5019.920543768, 0)):
            Circle(SKETCH1_R)
    extrude(amount=BOSS_EXTRUDE1_52_DEPTH)


with BuildPart() as body_53:
    # Sketch1 → Boss-Extrude1 53 (new body)
    with BuildSketch(Plane.XY):
        with Locations((5119.920543768, 0)):
            Circle(SKETCH1_R)
    extrude(amount=BOSS_EXTRUDE1_53_DEPTH)


with BuildPart() as body_54:
    # Sketch1 → Boss-Extrude1 54 (new body)
    with BuildSketch(Plane.XY):
        with Locations((5219.920543768, 0)):
            Circle(SKETCH1_R)
    extrude(amount=BOSS_EXTRUDE1_54_DEPTH)


with BuildPart() as body_55:
    # Sketch1 → Boss-Extrude1 55 (new body)
    with BuildSketch(Plane.XY):
        with Locations((5319.920543768, 0)):
            Circle(SKETCH1_R)
    extrude(amount=BOSS_EXTRUDE1_55_DEPTH)


with BuildPart() as body_56:
    # Sketch1 → Boss-Extrude1 56 (new body)
    with BuildSketch(Plane.XY):
        with Locations((5419.920543768, 0)):
            Circle(SKETCH1_R)
    extrude(amount=BOSS_EXTRUDE1_56_DEPTH)


with BuildPart() as body_57:
    # Sketch1 → Boss-Extrude1 57 (new body)
    with BuildSketch(Plane.XY):
        with Locations((5519.920543768, 0)):
            Circle(SKETCH1_R)
    extrude(amount=BOSS_EXTRUDE1_57_DEPTH)


with BuildPart() as body_58:
    # Sketch1 → Boss-Extrude1 58 (new body)
    with BuildSketch(Plane.XY):
        with Locations((5619.920543768, 0)):
            Circle(SKETCH1_R)
    extrude(amount=BOSS_EXTRUDE1_58_DEPTH)


with BuildPart() as body_59:
    # Sketch1 → Boss-Extrude1 59 (new body)
    with BuildSketch(Plane.XY):
        with Locations((5719.920543768, 0)):
            Circle(SKETCH1_R)
    extrude(amount=BOSS_EXTRUDE1_59_DEPTH)


with BuildPart() as body_60:
    # Sketch2 → Boss-Extrude2 (new body)
    with BuildSketch(Plane.ZY.offset(82.579456232)):
        with Locations((2.5, 5)):
            Circle(SKETCH2_R)
    extrude(amount=-BOSS_EXTRUDE2_DEPTH)


with BuildPart() as body_61:
    # Sketch2 → Boss-Extrude2 2 (new body)
    with BuildSketch(Plane.ZY.offset(82.579456232)):
        with Locations((94.5, 5)):
            Circle(SKETCH2_R)
    extrude(amount=-BOSS_EXTRUDE2_2_DEPTH)


with BuildPart() as body_62:
    # Sketch2 → Boss-Extrude2 3 (new body)
    with BuildSketch(Plane.ZY.offset(82.579456232)):
        with Locations((186.5, 5)):
            Circle(SKETCH2_R)
    extrude(amount=-BOSS_EXTRUDE2_3_DEPTH)


with BuildPart() as body_63:
    # Sketch2 → Boss-Extrude2 4 (new body)
    with BuildSketch(Plane.ZY.offset(82.579456232)):
        with Locations((278.5, 5)):
            Circle(SKETCH2_R)
    extrude(amount=-BOSS_EXTRUDE2_4_DEPTH)


with BuildPart() as body_64:
    # Sketch2 → Boss-Extrude2 5 (new body)
    with BuildSketch(Plane.ZY.offset(82.579456232)):
        with Locations((370.5, 5)):
            Circle(SKETCH2_R)
    extrude(amount=-BOSS_EXTRUDE2_5_DEPTH)


with BuildPart() as body_65:
    # Sketch2 → Boss-Extrude2 6 (new body)
    with BuildSketch(Plane.ZY.offset(82.579456232)):
        with Locations((462.5, 5)):
            Circle(SKETCH2_R)
    extrude(amount=-BOSS_EXTRUDE2_6_DEPTH)


with BuildPart() as body_66:
    # Sketch2 → Boss-Extrude2 7 (new body)
    with BuildSketch(Plane.ZY.offset(82.579456232)):
        with Locations((554.5, 5)):
            Circle(SKETCH2_R)
    extrude(amount=-BOSS_EXTRUDE2_7_DEPTH)


with BuildPart() as body_67:
    # Sketch2 → Boss-Extrude2 8 (new body)
    with BuildSketch(Plane.ZY.offset(82.579456232)):
        with Locations((646.5, 5)):
            Circle(SKETCH2_R)
    extrude(amount=-BOSS_EXTRUDE2_8_DEPTH)


solid = Compound([part.part, body_2.part, body_3.part, body_4.part, body_5.part, body_6.part, body_7.part, body_8.part, body_9.part, body_10.part, body_11.part, body_12.part, body_13.part, body_14.part, body_15.part, body_16.part, body_17.part, body_18.part, body_19.part, body_20.part, body_21.part, body_22.part, body_23.part, body_24.part, body_25.part, body_26.part, body_27.part, body_28.part, body_29.part, body_30.part, body_31.part, body_32.part, body_33.part, body_34.part, body_35.part, body_36.part, body_37.part, body_38.part, body_39.part, body_40.part, body_41.part, body_42.part, body_43.part, body_44.part, body_45.part, body_46.part, body_47.part, body_48.part, body_49.part, body_50.part, body_51.part, body_52.part, body_53.part, body_54.part, body_55.part, body_56.part, body_57.part, body_58.part, body_59.part, body_60.part, body_61.part, body_62.part, body_63.part, body_64.part, body_65.part, body_66.part, body_67.part])
